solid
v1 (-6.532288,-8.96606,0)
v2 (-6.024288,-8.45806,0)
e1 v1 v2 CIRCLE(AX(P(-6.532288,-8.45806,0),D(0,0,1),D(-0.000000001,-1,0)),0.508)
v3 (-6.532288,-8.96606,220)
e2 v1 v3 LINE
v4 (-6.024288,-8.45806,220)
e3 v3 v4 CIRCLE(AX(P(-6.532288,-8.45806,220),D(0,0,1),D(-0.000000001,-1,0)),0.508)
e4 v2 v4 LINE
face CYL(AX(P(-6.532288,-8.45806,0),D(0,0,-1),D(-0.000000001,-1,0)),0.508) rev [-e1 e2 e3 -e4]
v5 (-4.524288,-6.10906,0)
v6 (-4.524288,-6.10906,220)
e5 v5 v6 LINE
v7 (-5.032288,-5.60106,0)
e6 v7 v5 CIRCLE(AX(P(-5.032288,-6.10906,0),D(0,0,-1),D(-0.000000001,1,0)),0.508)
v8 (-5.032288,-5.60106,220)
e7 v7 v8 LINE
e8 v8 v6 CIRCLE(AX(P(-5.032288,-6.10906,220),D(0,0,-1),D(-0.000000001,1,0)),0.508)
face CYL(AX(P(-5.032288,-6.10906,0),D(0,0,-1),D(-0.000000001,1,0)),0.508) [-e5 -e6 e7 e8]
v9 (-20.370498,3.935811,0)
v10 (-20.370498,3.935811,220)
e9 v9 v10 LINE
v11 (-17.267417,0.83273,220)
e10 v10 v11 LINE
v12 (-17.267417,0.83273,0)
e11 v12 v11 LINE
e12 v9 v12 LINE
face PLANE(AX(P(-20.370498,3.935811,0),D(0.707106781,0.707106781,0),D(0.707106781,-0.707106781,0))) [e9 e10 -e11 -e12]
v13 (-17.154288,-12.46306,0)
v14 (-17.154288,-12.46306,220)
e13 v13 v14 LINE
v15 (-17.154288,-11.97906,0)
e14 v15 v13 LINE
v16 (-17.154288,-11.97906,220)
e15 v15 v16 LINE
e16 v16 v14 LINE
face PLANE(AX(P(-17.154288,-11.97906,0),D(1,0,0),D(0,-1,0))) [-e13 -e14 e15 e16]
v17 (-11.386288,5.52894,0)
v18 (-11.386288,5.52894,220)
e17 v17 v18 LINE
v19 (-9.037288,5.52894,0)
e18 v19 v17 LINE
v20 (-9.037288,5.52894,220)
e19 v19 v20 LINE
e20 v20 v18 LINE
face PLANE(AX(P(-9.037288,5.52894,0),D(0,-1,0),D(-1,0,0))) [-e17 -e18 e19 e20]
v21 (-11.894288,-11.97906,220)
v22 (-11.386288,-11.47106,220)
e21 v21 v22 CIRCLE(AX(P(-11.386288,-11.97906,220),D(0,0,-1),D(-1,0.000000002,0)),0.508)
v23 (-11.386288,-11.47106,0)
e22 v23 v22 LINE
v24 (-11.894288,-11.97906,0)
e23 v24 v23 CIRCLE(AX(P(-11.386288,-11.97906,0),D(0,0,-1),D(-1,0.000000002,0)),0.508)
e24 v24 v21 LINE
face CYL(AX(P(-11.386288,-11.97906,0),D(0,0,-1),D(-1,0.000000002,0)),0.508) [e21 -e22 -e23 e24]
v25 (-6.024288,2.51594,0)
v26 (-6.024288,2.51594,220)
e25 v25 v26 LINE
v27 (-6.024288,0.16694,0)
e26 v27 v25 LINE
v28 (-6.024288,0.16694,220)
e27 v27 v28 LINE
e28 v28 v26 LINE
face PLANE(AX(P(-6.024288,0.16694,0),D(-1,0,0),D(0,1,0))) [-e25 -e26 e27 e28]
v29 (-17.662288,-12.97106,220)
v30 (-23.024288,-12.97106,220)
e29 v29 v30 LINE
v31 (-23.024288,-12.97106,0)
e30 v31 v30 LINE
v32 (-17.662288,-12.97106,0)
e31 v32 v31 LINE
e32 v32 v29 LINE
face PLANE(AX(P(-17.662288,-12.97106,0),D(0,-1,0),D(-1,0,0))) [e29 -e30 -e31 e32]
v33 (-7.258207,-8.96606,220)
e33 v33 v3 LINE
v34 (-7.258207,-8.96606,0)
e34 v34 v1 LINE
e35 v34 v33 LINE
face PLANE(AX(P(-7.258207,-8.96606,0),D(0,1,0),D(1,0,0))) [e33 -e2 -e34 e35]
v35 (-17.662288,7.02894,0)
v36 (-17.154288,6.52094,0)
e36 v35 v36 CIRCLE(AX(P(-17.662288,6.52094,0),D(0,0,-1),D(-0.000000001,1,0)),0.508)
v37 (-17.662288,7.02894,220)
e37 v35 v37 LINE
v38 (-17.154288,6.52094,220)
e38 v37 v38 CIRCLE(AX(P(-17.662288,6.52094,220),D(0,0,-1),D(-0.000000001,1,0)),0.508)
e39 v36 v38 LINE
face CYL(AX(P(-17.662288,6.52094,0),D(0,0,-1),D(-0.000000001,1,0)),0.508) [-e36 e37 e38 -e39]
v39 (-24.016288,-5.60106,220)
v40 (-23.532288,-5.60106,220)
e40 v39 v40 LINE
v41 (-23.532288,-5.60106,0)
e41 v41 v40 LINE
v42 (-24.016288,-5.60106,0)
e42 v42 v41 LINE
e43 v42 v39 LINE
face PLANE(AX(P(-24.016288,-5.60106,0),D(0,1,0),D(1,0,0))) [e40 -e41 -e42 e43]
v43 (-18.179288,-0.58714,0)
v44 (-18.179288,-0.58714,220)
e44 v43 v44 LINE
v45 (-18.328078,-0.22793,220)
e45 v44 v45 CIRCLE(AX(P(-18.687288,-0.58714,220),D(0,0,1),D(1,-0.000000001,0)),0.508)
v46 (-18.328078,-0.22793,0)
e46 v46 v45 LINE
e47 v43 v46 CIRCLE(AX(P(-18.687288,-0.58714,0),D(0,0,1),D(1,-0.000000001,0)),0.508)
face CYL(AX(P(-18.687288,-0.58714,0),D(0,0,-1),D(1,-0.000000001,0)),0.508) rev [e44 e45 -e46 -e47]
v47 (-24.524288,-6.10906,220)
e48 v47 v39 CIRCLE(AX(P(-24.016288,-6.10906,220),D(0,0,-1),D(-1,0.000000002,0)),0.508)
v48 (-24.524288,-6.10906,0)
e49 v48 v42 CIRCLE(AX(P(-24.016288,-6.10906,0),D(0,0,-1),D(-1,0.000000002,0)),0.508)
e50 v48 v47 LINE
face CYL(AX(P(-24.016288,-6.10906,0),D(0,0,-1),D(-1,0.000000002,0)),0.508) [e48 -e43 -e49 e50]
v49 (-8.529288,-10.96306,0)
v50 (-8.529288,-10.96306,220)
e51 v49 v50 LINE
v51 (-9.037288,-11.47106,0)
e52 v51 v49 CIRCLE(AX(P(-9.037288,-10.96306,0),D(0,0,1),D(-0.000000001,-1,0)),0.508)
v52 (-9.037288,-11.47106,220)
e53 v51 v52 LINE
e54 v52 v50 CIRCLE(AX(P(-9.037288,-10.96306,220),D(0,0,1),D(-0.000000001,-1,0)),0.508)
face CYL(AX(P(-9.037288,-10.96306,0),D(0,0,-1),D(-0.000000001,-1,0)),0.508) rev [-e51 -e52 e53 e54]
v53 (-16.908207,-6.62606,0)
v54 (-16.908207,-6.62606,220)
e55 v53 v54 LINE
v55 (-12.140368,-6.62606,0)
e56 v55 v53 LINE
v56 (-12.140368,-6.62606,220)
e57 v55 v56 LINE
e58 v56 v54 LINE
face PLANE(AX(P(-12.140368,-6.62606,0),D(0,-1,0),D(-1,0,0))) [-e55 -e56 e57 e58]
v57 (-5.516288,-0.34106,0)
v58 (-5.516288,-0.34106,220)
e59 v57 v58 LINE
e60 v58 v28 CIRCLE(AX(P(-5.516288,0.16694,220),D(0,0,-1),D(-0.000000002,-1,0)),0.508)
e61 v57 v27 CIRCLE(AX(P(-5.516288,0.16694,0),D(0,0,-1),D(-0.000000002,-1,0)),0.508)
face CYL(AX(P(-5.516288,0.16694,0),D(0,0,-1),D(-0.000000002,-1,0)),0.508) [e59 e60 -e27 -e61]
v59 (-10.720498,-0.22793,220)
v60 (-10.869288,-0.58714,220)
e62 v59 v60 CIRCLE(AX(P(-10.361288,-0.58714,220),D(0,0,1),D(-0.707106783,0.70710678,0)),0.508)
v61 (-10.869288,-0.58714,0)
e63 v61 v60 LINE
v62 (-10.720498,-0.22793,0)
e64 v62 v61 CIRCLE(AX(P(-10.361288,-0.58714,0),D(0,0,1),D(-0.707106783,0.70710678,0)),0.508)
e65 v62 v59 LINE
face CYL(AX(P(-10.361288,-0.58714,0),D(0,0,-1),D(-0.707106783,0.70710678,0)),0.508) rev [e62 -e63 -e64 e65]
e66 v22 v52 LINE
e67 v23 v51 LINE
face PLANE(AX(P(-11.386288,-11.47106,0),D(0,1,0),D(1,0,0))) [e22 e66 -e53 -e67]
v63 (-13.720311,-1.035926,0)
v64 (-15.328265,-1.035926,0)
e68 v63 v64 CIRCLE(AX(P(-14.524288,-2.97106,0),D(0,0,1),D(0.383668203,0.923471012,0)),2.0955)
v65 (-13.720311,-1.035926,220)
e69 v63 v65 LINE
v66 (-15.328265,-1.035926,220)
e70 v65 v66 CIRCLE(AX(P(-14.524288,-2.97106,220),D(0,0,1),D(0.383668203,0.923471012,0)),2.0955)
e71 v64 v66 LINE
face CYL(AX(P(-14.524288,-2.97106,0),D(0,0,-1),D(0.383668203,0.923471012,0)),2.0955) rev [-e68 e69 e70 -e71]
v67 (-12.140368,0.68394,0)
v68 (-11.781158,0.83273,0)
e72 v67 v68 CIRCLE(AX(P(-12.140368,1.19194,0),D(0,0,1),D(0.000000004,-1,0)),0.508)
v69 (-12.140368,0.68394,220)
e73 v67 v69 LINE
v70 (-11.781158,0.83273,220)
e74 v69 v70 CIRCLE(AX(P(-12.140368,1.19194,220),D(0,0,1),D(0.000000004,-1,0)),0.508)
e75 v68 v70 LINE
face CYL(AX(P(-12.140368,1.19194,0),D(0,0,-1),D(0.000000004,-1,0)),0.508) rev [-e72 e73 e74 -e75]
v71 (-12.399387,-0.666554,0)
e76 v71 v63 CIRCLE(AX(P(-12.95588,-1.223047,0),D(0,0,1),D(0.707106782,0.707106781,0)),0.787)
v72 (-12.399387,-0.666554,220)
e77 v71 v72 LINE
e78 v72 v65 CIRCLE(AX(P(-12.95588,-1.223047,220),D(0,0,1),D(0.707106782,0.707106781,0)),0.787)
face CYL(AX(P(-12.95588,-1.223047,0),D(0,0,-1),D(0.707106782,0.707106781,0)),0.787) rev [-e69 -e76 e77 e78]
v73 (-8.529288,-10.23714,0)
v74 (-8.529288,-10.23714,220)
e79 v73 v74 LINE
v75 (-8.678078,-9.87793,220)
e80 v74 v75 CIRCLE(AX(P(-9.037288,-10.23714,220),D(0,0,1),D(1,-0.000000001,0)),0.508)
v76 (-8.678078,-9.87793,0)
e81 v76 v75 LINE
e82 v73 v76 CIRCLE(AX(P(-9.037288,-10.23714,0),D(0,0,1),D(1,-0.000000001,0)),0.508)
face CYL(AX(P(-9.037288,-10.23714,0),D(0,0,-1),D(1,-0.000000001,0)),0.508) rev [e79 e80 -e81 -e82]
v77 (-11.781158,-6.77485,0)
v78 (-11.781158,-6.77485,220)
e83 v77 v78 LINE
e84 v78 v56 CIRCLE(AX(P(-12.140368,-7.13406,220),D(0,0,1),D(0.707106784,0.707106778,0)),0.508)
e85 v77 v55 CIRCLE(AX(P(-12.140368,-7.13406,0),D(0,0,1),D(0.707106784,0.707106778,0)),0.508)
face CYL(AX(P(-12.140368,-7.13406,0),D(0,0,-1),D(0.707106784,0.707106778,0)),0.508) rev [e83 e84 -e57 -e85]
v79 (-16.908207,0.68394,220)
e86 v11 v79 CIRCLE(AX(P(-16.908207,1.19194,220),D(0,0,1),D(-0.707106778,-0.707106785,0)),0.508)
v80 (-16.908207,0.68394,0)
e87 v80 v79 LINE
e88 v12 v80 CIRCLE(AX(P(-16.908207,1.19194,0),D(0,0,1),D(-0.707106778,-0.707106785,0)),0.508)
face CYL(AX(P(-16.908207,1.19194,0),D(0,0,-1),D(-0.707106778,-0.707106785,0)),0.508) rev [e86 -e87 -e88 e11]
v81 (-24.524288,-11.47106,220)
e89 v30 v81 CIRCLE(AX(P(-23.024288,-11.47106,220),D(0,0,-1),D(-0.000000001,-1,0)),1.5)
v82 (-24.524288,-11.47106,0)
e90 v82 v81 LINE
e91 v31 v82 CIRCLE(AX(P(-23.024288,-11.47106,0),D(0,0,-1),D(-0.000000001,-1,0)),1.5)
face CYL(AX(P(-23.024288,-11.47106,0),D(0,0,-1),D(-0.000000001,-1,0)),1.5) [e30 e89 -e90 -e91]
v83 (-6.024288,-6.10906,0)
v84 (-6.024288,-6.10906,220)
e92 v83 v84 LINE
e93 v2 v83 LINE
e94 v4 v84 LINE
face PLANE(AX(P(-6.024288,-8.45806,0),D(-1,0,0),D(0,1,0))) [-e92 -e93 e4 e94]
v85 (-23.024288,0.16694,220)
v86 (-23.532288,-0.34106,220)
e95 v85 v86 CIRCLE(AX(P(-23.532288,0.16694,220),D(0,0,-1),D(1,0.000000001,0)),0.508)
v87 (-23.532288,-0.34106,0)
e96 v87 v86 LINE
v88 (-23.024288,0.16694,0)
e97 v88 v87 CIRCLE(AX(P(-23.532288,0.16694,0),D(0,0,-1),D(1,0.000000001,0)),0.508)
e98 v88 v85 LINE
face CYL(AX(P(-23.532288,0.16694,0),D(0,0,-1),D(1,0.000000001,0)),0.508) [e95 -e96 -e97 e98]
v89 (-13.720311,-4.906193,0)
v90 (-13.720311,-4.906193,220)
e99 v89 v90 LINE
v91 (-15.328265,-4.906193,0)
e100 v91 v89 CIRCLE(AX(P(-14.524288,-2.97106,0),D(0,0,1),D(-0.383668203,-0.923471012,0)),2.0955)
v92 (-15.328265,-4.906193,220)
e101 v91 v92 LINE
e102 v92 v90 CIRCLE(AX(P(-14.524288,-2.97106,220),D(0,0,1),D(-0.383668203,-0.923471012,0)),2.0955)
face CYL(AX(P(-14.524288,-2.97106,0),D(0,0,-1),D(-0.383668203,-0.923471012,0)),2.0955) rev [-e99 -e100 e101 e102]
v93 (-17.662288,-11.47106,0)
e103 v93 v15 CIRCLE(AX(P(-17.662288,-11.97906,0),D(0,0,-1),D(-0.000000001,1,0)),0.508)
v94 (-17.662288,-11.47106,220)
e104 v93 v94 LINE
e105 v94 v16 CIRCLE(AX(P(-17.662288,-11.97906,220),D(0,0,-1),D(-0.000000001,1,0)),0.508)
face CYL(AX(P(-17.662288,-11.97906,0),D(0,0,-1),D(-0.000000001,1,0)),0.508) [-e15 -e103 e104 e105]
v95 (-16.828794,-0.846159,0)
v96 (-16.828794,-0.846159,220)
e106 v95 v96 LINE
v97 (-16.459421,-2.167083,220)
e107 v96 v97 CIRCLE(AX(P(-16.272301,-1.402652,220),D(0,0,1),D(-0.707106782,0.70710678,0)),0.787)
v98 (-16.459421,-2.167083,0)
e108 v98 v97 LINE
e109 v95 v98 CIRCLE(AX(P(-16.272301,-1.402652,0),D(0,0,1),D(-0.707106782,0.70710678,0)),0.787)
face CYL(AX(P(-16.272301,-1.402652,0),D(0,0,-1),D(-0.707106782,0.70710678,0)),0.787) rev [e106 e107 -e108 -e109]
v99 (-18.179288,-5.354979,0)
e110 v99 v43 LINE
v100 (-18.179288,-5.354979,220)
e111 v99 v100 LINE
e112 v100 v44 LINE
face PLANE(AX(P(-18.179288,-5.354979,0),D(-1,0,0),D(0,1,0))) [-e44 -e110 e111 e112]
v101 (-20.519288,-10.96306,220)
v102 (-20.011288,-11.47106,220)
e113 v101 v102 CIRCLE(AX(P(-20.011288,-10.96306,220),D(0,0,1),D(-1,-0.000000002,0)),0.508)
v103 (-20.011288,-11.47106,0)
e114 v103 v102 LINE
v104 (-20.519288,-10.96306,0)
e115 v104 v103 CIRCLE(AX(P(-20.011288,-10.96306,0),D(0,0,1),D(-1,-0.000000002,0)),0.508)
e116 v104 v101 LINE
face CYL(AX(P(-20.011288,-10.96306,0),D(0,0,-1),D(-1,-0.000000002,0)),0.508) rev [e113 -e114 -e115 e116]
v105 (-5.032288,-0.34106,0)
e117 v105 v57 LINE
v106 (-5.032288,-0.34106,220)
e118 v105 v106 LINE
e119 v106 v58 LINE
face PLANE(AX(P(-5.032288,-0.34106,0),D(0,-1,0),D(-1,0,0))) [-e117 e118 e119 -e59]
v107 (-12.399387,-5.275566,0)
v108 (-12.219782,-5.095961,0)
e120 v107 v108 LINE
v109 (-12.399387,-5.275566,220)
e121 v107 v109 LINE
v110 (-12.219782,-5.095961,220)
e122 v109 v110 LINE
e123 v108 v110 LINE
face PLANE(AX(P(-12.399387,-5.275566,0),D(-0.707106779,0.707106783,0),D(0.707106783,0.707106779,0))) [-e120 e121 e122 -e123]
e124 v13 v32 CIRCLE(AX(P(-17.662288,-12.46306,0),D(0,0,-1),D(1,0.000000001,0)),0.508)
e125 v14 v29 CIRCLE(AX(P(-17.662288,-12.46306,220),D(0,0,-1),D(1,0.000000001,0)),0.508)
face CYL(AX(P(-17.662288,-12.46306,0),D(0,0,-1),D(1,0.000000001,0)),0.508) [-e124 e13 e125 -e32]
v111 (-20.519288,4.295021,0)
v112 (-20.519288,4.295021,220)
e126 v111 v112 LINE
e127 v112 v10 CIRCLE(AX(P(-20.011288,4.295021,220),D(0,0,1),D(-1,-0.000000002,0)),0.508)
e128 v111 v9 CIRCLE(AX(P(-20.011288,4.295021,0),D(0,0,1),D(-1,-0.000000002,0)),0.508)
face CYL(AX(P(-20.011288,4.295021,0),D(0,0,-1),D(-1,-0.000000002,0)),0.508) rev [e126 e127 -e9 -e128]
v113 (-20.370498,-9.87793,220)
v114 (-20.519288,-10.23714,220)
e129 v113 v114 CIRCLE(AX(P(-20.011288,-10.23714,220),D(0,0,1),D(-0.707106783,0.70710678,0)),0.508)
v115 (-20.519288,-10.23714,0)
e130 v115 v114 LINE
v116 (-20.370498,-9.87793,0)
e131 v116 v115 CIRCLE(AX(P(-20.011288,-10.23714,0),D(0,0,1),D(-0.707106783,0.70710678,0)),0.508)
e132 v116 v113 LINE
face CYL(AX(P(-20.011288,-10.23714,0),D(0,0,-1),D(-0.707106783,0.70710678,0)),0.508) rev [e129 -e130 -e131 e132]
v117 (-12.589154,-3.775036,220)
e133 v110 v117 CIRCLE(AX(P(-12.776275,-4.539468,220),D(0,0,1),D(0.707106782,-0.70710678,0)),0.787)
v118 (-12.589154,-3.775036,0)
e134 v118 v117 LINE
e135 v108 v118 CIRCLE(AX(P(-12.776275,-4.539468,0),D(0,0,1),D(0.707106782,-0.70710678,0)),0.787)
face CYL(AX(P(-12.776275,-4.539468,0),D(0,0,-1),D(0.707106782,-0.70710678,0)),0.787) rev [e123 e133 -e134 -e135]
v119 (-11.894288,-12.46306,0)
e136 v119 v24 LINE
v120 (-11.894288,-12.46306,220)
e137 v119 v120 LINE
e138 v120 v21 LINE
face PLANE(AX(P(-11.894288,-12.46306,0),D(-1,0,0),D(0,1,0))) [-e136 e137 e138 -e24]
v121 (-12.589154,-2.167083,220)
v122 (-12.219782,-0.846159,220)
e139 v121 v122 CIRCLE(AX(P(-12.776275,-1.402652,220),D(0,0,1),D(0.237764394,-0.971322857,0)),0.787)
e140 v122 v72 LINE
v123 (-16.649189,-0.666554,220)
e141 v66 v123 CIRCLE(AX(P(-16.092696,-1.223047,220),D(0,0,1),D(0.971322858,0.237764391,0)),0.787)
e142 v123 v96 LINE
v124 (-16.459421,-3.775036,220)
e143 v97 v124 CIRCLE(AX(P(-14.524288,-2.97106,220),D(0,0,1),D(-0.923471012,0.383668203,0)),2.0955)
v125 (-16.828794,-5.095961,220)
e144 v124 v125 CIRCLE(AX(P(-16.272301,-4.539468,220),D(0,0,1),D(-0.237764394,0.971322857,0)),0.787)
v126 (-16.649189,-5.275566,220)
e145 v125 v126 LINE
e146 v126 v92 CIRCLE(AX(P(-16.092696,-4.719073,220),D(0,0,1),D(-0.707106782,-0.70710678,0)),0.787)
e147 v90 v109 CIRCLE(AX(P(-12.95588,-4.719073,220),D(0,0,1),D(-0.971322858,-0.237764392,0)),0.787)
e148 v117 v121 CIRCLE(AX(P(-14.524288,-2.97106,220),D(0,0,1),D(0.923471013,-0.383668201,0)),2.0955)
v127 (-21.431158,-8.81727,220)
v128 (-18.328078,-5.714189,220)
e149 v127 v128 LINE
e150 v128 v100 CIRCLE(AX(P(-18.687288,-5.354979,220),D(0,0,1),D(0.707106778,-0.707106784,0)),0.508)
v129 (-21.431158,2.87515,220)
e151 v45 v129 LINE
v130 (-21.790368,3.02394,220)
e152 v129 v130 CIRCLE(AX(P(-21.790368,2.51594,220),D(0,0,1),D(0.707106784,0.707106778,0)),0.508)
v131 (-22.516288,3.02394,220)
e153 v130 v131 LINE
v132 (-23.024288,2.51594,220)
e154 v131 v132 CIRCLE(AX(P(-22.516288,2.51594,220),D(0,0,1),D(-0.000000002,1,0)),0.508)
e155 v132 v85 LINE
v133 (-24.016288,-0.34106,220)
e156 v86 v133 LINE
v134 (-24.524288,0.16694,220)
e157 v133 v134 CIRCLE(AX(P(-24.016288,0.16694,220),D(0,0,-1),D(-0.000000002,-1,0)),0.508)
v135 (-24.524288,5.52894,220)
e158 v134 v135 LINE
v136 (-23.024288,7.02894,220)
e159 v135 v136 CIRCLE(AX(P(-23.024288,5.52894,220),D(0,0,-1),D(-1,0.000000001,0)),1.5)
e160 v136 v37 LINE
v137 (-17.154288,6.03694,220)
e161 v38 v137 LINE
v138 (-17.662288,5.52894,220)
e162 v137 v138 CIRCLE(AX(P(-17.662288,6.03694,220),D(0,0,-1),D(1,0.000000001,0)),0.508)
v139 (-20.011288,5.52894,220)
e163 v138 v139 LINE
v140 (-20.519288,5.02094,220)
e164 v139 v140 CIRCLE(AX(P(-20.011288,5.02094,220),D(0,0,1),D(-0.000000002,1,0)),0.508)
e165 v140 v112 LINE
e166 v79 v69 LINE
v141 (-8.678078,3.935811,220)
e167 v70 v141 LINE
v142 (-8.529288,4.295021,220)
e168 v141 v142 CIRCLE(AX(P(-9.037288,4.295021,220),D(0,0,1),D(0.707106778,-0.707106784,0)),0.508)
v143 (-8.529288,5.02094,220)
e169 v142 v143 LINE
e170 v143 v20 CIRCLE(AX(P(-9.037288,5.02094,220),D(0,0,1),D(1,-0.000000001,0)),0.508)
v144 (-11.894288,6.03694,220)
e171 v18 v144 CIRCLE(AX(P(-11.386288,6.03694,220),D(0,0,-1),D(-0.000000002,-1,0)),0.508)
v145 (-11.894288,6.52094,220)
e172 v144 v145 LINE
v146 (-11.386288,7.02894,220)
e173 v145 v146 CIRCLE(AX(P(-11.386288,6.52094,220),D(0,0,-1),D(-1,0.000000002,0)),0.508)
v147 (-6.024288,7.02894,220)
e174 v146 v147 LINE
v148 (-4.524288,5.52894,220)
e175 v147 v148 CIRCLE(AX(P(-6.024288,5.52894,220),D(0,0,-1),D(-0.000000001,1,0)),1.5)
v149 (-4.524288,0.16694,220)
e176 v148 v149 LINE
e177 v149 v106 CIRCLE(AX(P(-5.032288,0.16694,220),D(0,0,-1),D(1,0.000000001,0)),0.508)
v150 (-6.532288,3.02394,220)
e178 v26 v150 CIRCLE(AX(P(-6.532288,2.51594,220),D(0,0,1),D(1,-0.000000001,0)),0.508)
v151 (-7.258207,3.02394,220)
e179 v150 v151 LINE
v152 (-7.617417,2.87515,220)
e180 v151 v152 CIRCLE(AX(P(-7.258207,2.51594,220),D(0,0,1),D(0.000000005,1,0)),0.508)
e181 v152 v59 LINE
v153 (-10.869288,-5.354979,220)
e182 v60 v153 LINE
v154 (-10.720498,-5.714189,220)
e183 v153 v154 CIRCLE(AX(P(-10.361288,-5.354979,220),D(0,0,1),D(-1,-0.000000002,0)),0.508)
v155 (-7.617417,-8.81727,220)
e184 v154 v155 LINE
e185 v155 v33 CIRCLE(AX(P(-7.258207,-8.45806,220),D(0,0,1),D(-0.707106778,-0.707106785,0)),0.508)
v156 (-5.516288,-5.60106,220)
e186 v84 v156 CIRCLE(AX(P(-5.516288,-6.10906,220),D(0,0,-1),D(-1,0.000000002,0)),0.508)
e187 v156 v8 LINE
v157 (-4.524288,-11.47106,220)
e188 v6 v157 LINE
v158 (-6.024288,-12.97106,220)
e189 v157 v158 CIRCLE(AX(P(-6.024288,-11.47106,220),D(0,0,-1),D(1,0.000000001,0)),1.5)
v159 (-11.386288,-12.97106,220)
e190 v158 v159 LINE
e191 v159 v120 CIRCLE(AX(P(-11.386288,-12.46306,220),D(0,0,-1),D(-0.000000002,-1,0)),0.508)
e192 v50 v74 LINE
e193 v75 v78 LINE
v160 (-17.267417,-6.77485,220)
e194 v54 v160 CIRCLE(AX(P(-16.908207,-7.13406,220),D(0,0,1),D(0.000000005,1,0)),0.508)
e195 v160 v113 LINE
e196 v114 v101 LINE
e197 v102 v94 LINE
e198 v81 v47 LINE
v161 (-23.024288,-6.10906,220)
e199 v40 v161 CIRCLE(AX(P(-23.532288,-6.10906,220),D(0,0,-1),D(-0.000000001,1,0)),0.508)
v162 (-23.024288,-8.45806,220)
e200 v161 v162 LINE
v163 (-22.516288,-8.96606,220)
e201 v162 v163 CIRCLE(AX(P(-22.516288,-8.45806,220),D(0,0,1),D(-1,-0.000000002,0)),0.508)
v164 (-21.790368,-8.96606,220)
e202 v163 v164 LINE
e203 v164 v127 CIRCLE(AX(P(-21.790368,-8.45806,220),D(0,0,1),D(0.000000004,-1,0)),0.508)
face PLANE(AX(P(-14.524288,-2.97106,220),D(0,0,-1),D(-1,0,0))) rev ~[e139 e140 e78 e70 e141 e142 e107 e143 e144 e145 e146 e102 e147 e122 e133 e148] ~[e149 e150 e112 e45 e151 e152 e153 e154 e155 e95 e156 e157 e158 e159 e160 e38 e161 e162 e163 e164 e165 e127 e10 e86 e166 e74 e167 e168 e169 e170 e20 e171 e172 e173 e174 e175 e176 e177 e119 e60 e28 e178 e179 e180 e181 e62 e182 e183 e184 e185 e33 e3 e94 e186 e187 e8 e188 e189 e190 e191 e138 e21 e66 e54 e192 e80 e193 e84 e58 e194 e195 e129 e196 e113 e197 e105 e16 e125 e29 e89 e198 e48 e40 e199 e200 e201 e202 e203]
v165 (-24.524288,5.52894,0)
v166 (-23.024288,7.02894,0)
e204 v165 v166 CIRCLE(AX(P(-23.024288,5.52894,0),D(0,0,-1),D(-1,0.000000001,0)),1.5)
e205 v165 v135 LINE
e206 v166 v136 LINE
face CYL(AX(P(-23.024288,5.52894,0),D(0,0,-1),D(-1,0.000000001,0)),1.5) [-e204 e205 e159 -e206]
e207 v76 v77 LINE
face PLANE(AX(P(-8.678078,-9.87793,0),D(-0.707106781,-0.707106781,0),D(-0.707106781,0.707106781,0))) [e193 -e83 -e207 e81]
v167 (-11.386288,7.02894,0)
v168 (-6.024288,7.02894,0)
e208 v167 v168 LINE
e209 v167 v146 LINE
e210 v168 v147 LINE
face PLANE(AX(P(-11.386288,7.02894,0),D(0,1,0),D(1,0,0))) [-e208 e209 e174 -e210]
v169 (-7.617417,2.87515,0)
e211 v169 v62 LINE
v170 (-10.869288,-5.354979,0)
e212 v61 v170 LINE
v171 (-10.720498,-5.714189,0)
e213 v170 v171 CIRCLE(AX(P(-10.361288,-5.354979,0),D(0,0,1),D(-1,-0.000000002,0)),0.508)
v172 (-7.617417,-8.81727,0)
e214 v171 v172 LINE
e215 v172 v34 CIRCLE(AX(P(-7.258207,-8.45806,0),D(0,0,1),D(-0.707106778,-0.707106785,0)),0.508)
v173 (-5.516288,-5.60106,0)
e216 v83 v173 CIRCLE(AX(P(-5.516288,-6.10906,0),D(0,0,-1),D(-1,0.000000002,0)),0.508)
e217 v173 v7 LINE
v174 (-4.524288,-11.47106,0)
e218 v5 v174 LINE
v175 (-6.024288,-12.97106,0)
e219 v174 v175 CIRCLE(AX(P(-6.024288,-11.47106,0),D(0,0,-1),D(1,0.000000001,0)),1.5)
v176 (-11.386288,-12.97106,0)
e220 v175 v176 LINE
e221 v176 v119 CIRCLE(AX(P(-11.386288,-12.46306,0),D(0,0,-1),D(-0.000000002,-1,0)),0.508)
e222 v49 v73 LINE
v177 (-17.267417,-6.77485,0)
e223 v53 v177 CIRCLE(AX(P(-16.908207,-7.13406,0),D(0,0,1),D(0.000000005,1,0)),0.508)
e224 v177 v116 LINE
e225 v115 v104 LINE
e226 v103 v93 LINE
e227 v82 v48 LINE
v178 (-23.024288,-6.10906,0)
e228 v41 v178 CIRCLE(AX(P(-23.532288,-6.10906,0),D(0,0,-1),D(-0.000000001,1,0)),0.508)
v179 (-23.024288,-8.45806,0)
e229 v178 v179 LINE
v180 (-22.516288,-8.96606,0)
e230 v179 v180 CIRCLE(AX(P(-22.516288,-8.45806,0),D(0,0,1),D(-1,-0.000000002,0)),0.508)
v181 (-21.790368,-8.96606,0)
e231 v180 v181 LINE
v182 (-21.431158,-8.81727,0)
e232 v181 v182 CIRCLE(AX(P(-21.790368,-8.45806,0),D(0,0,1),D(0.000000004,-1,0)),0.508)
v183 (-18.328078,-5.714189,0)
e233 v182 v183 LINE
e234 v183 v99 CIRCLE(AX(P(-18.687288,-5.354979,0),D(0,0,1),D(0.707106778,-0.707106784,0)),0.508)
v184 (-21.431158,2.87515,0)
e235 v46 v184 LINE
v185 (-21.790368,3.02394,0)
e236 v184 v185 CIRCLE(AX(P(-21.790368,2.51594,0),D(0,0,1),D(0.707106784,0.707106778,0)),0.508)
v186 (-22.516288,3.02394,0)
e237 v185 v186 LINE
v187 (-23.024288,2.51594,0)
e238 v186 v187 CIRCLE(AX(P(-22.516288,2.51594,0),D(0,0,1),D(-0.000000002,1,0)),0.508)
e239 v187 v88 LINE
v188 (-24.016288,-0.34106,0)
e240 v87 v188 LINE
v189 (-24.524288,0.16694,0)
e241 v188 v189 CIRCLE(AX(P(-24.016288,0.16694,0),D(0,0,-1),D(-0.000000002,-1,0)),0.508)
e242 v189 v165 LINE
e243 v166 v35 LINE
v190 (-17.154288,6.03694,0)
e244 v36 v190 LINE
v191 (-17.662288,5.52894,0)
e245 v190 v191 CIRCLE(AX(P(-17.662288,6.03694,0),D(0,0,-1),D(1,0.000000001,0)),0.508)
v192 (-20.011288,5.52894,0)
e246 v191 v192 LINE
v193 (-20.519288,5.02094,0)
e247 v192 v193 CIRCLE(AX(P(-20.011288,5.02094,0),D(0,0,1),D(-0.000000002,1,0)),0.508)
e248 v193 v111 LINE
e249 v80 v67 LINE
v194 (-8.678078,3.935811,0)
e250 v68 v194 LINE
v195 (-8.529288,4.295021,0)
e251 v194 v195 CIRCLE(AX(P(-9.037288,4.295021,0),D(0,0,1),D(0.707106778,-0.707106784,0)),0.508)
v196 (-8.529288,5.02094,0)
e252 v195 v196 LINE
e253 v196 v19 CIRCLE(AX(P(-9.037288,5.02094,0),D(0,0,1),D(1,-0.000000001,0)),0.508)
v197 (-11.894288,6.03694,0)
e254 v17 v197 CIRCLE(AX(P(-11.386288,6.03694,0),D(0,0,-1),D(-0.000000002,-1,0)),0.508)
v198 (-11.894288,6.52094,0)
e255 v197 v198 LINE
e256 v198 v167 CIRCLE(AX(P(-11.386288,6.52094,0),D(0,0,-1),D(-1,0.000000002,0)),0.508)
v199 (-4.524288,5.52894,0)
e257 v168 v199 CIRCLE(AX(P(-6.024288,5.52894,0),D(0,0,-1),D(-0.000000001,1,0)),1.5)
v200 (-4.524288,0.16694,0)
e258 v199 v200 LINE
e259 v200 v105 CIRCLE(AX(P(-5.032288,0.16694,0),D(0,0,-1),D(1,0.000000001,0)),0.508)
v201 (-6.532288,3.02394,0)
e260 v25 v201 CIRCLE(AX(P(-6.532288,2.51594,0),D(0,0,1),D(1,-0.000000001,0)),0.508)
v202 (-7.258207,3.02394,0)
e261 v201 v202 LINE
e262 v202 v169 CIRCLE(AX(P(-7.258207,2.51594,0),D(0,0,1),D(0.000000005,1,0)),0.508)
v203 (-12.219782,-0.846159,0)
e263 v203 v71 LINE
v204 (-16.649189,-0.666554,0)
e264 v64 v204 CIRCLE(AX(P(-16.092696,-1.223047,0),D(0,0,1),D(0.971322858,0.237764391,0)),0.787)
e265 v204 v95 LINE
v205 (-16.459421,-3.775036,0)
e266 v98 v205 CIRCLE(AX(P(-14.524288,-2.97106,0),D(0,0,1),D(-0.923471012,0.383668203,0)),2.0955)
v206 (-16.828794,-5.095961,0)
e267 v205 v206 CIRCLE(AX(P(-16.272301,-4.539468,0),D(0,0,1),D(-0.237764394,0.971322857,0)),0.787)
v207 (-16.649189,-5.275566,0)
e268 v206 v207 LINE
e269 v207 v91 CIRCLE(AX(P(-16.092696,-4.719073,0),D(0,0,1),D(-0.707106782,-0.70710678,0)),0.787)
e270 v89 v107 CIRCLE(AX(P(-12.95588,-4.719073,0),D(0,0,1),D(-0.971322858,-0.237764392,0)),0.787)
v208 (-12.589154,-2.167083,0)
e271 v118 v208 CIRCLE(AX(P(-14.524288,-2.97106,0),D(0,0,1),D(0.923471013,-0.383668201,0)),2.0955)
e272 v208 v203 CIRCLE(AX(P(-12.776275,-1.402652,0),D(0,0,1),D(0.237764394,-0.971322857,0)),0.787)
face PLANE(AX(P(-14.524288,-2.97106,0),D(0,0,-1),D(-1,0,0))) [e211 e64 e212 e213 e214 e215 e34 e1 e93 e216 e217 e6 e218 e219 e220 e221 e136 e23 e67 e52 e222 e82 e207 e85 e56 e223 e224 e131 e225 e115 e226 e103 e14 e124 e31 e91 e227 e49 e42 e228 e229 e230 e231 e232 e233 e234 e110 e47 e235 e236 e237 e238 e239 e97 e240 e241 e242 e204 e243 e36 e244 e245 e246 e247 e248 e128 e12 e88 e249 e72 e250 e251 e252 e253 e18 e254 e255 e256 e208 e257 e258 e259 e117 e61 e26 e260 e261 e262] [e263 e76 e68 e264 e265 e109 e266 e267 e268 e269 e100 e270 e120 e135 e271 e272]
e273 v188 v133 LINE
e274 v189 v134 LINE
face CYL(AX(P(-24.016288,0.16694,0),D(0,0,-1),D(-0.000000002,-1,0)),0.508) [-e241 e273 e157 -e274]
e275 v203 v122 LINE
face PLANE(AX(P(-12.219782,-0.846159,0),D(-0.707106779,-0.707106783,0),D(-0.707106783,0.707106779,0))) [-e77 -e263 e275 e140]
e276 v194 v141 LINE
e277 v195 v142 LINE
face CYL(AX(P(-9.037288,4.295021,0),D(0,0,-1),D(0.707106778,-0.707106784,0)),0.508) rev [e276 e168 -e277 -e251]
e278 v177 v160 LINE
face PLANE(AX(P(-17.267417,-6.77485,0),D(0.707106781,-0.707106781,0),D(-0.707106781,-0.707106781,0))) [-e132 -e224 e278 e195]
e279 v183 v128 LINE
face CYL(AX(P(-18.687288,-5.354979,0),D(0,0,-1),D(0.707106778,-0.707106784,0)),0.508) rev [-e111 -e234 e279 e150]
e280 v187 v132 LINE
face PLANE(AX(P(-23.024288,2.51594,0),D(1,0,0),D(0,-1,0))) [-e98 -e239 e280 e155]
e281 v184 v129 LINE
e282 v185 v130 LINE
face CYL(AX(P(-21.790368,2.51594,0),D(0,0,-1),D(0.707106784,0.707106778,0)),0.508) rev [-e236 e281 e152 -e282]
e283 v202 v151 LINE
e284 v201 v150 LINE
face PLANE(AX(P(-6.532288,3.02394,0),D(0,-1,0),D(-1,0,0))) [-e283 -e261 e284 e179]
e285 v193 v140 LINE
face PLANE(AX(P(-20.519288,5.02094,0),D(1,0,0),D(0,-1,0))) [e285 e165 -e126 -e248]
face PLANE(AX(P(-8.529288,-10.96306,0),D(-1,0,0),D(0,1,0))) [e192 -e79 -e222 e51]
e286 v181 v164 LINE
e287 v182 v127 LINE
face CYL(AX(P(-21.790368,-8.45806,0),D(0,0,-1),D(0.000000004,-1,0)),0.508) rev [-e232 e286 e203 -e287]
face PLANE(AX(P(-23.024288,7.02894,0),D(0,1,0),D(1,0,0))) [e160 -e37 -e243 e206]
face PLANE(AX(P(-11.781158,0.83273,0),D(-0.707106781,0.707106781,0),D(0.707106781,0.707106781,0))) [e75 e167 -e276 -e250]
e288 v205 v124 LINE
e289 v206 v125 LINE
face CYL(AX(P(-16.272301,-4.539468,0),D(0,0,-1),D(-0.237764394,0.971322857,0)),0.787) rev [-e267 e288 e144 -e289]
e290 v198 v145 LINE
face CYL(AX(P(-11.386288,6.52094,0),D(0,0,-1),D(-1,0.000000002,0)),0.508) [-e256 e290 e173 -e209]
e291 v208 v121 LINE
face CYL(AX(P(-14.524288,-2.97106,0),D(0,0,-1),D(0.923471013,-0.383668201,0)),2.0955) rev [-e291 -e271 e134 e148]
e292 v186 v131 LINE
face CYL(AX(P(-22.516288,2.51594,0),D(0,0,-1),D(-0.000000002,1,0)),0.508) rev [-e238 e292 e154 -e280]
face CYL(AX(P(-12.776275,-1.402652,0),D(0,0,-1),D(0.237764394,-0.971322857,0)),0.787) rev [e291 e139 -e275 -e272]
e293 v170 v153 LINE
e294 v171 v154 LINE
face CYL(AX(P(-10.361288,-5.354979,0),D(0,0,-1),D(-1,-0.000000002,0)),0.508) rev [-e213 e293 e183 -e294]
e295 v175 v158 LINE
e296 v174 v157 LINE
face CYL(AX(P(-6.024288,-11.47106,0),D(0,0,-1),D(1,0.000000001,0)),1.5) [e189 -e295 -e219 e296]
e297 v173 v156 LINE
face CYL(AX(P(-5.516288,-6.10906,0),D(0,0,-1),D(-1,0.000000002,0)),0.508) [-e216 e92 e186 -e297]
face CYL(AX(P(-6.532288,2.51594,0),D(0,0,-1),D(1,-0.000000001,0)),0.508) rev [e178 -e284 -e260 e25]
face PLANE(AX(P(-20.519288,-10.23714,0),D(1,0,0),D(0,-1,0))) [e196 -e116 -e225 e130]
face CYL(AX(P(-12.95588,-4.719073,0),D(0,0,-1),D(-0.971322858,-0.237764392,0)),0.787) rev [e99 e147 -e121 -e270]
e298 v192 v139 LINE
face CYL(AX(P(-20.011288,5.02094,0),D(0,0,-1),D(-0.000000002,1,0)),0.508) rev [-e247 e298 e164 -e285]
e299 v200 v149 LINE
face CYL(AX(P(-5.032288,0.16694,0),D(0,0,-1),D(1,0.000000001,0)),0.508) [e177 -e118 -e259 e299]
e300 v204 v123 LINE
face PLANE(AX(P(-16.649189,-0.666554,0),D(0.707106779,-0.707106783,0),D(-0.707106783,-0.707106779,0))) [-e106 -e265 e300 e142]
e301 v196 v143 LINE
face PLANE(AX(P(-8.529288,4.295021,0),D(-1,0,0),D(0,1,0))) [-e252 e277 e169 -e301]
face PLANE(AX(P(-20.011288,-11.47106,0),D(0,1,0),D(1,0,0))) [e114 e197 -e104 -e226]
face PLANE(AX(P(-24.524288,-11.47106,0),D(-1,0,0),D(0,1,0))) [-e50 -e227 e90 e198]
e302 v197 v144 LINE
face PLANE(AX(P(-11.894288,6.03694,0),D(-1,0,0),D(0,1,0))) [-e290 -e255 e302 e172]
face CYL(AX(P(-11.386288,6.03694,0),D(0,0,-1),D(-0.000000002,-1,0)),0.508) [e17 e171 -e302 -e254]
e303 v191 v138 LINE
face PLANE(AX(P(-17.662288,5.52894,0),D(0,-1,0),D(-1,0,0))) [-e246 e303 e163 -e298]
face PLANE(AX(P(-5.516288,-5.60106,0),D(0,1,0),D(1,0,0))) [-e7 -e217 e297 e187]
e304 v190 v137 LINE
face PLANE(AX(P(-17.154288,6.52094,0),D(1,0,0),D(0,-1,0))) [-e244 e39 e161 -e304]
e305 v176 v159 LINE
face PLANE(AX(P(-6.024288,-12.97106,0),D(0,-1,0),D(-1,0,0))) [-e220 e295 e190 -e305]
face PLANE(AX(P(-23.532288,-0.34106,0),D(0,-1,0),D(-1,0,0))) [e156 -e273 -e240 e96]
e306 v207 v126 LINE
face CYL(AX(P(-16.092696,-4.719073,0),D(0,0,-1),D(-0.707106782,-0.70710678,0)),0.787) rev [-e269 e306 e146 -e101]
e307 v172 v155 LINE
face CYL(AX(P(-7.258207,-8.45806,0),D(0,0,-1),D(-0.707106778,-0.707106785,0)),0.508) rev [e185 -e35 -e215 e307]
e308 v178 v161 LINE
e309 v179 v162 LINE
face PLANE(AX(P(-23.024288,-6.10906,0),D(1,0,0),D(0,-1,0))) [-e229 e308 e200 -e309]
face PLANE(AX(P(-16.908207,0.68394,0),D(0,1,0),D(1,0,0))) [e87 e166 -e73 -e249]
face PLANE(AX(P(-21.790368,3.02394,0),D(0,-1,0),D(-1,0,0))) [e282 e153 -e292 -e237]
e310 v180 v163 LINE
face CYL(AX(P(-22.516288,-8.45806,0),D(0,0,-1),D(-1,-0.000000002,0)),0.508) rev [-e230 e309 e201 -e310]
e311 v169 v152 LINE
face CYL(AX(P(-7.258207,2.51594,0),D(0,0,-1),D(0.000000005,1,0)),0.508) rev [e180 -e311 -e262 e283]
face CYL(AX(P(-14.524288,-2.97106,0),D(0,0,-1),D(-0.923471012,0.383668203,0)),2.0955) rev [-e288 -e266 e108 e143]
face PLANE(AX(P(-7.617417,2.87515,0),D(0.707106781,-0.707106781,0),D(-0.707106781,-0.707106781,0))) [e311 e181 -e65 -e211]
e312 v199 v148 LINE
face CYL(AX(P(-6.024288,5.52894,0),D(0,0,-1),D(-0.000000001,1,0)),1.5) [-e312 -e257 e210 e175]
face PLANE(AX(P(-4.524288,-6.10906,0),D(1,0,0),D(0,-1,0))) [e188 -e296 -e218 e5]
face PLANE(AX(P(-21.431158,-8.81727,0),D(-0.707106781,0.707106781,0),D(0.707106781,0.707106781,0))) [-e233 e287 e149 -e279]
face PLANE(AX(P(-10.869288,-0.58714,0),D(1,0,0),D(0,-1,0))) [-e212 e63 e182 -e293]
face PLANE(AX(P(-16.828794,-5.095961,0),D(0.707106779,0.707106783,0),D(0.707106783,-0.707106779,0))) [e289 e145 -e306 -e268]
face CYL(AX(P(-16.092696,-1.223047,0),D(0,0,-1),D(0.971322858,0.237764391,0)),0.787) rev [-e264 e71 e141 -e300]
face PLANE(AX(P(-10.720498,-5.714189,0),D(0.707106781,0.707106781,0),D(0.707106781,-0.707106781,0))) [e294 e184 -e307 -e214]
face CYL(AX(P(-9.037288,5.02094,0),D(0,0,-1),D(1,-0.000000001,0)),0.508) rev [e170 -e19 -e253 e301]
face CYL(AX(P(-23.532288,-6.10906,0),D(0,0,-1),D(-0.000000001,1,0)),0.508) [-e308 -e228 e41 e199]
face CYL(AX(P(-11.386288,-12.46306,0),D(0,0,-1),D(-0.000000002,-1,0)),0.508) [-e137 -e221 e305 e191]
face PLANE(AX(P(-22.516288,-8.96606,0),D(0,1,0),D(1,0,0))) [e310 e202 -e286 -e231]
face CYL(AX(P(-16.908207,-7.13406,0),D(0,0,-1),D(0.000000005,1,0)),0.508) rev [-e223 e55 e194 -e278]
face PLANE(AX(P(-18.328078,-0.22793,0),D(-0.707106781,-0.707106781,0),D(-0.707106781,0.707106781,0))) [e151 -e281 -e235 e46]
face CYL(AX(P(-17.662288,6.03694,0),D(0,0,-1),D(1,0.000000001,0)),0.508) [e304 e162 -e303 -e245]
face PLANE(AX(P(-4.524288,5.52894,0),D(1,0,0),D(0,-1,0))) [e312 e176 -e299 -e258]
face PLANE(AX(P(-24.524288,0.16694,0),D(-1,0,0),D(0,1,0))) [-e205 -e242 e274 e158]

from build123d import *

# Parameters (mm, degrees)
EXTRUDE1_DEPTH = 220


with BuildPart() as part:
    # Sketch1 → Extrude1 (new body)
    with BuildSketch(Plane.XY):
        with BuildLine():
            Line((-5.032287798, -0.341059771), (-5.516287798, -0.341059771))
            ThreePointArc((-5.516287798, -0.341059771), (-5.875498042, -0.192270016), (-6.024287798, 0.166940229))
            Line((-6.024287798, 0.166940229), (-6.024287798, 2.515940229))
            ThreePointArc((-6.024287798, 2.515940229), (-6.173077553, 2.875150474), (-6.532287798, 3.023940229))
            Line((-6.532287798, 3.023940229), (-7.258207136, 3.023940229))
            ThreePointArc((-7.258207136, 3.023940229), (-7.45261032, 2.985271032), (-7.617417381, 2.875150474))
            Line((-7.617417381, 2.875150474), (-10.720498042, -0.227930187))
            ThreePointArc((-10.720498042, -0.227930187), (-10.8306186, -0.392737249), (-10.869287798, -0.587140432))
            Line((-10.869287798, -0.587140432), (-10.869287798, -5.354979109))
            ThreePointArc((-10.869287798, -5.354979109), (-10.8306186, -5.549382293), (-10.720498042, -5.714189354))
            Line((-10.720498042, -5.714189354), (-7.617417381, -8.817270016))
            ThreePointArc((-7.617417381, -8.817270016), (-7.45261032, -8.927390573), (-7.258207136, -8.966059771))
            Line((-7.258207136, -8.966059771), (-6.532287798, -8.966059771))
            ThreePointArc((-6.532287798, -8.966059771), (-6.173077553, -8.817270016), (-6.024287798, -8.458059771))
            Line((-6.024287798, -8.458059771), (-6.024287798, -6.109059771))
            ThreePointArc((-6.024287798, -6.109059771), (-5.875498042, -5.749849526), (-5.516287798, -5.601059771))
            Line((-5.516287798, -5.601059771), (-5.032287798, -5.601059771))
            ThreePointArc((-5.032287798, -5.601059771), (-4.673077553, -5.749849526), (-4.524287798, -6.109059771))
            Line((-4.524287798, -6.109059771), (-4.524287798, -11.471059771))
            ThreePointArc((-4.524287798, -11.471059771), (-4.963627626, -12.531719943), (-6.024287798, -12.971059771))
            Line((-6.024287798, -12.971059771), (-11.386287798, -12.971059771))
            ThreePointArc((-11.386287798, -12.971059771), (-11.745498042, -12.822270016), (-11.894287798, -12.463059771))
            Line((-11.894287798, -12.463059771), (-11.894287798, -11.979059771))
            ThreePointArc((-11.894287798, -11.979059771), (-11.745498042, -11.619849526), (-11.386287798, -11.471059771))
            Line((-11.386287798, -11.471059771), (-9.037287798, -11.471059771))
            ThreePointArc((-9.037287798, -11.471059771), (-8.678077553, -11.322270016), (-8.529287798, -10.963059771))
            Line((-8.529287798, -10.963059771), (-8.529287798, -10.237140432))
            ThreePointArc((-8.529287798, -10.237140432), (-8.567956995, -10.042737249), (-8.678077553, -9.877930187))
            Line((-8.678077553, -9.877930187), (-11.781158214, -6.774849526))
            ThreePointArc((-11.781158214, -6.774849526), (-11.945965275, -6.664728968), (-12.140368459, -6.626059771))
            Line((-12.140368459, -6.626059771), (-16.908207136, -6.626059771))
            ThreePointArc((-16.908207136, -6.626059771), (-17.10261032, -6.664728968), (-17.267417381, -6.774849526))
            Line((-17.267417381, -6.774849526), (-20.370498042, -9.877930187))
            ThreePointArc((-20.370498042, -9.877930187), (-20.4806186, -10.042737249), (-20.519287798, -10.237140432))
            Line((-20.519287798, -10.237140432), (-20.519287798, -10.963059771))
            ThreePointArc((-20.519287798, -10.963059771), (-20.370498042, -11.322270016), (-20.011287798, -11.471059771))
            Line((-20.011287798, -11.471059771), (-17.662287798, -11.471059771))
            ThreePointArc((-17.662287798, -11.471059771), (-17.303077553, -11.619849526), (-17.154287798, -11.979059771))
            Line((-17.154287798, -11.979059771), (-17.154287798, -12.463059771))
            ThreePointArc((-17.154287798, -12.463059771), (-17.303077553, -12.822270016), (-17.662287798, -12.971059771))
            Line((-17.662287798, -12.971059771), (-23.024287798, -12.971059771))
            ThreePointArc((-23.024287798, -12.971059771), (-24.084947969, -12.531719943), (-24.524287798, -11.471059771))
            Line((-24.524287798, -11.471059771), (-24.524287798, -6.109059771))
            ThreePointArc((-24.524287798, -6.109059771), (-24.375498042, -5.749849526), (-24.016287798, -5.601059771))
            Line((-24.016287798, -5.601059771), (-23.532287798, -5.601059771))
            ThreePointArc((-23.532287798, -5.601059771), (-23.173077553, -5.749849526), (-23.024287798, -6.109059771))
            Line((-23.024287798, -6.109059771), (-23.024287798, -8.458059771))
            ThreePointArc((-23.024287798, -8.458059771), (-22.875498042, -8.817270016), (-22.516287798, -8.966059771))
            Line((-22.516287798, -8.966059771), (-21.790368459, -8.966059771))
            ThreePointArc((-21.790368459, -8.966059771), (-21.595965275, -8.927390573), (-21.431158214, -8.817270016))
            Line((-21.431158214, -8.817270016), (-18.328077553, -5.714189354))
            ThreePointArc((-18.328077553, -5.714189354), (-18.217956995, -5.549382293), (-18.179287798, -5.354979109))
            Line((-18.179287798, -5.354979109), (-18.179287798, -0.587140432))
            ThreePointArc((-18.179287798, -0.587140432), (-18.217956995, -0.392737249), (-18.328077553, -0.227930187))
            Line((-18.328077553, -0.227930187), (-21.431158214, 2.875150474))
            ThreePointArc((-21.431158214, 2.875150474), (-21.595965275, 2.985271032), (-21.790368459, 3.023940229))
            Line((-21.790368459, 3.023940229), (-22.516287798, 3.023940229))
            ThreePointArc((-22.516287798, 3.023940229), (-22.875498042, 2.875150474), (-23.024287798, 2.515940229))
            Line((-23.024287798, 2.515940229), (-23.024287798, 0.166940229))
            ThreePointArc((-23.024287798, 0.166940229), (-23.173077553, -0.192270016), (-23.532287798, -0.341059771))
            Line((-23.532287798, -0.341059771), (-24.016287798, -0.341059771))
            ThreePointArc((-24.016287798, -0.341059771), (-24.375498042, -0.192270016), (-24.524287798, 0.166940229))
            Line((-24.524287798, 0.166940229), (-24.524287798, 5.528940229))
            ThreePointArc((-24.524287798, 5.528940229), (-24.084947969, 6.589600401), (-23.024287798, 7.028940229))
            Line((-23.024287798, 7.028940229), (-17.662287798, 7.028940229))
            ThreePointArc((-17.662287798, 7.028940229), (-17.303077553, 6.880150474), (-17.154287798, 6.520940229))
            Line((-17.154287798, 6.520940229), (-17.154287798, 6.036940229))
            ThreePointArc((-17.154287798, 6.036940229), (-17.303077553, 5.677729984), (-17.662287798, 5.528940229))
            Line((-17.662287798, 5.528940229), (-20.011287798, 5.528940229))
            ThreePointArc((-20.011287798, 5.528940229), (-20.370498042, 5.380150474), (-20.519287798, 5.020940229))
            Line((-20.519287798, 5.020940229), (-20.519287798, 4.295020891))
            ThreePointArc((-20.519287798, 4.295020891), (-20.4806186, 4.100617707), (-20.370498042, 3.935810646))
            Line((-20.370498042, 3.935810646), (-17.267417381, 0.832729984))
            ThreePointArc((-17.267417381, 0.832729984), (-17.10261032, 0.722609427), (-16.908207136, 0.683940229))
            Line((-16.908207136, 0.683940229), (-12.140368459, 0.683940229))
            ThreePointArc((-12.140368459, 0.683940229), (-11.945965275, 0.722609427), (-11.781158214, 0.832729984))
            Line((-11.781158214, 0.832729984), (-8.678077553, 3.935810646))
            ThreePointArc((-8.678077553, 3.935810646), (-8.567956995, 4.100617707), (-8.529287798, 4.295020891))
            Line((-8.529287798, 4.295020891), (-8.529287798, 5.020940229))
            ThreePointArc((-8.529287798, 5.020940229), (-8.678077553, 5.380150474), (-9.037287798, 5.528940229))
            Line((-9.037287798, 5.528940229), (-11.386287798, 5.528940229))
            ThreePointArc((-11.386287798, 5.528940229), (-11.745498042, 5.677729984), (-11.894287798, 6.036940229))
            Line((-11.894287798, 6.036940229), (-11.894287798, 6.520940229))
            ThreePointArc((-11.894287798, 6.520940229), (-11.745498042, 6.880150474), (-11.386287798, 7.028940229))
            Line((-11.386287798, 7.028940229), (-6.024287798, 7.028940229))
            ThreePointArc((-6.024287798, 7.028940229), (-4.963627626, 6.589600401), (-4.524287798, 5.528940229))
            Line((-4.524287798, 5.528940229), (-4.524287798, 0.166940229))
            ThreePointArc((-4.524287798, 0.166940229), (-4.673077553, -0.192270016), (-5.032287798, -0.341059771))
        make_face()
        with BuildLine():
            Line((-12.399386954, -5.275565737), (-12.219781831, -5.095960615))
            ThreePointArc((-12.219781831, -5.095960615), (-12.018349781, -4.327527582), (-12.589154291, -3.775036489))
            ThreePointArc((-12.589154291, -3.775036489), (-12.428787798, -2.971059771), (-12.589154291, -2.167083053))
            ThreePointArc((-12.589154291, -2.167083053), (-12.018349781, -1.61459196), (-12.219781831, -0.846158927))
            Line((-12.219781831, -0.846158927), (-12.399386954, -0.666553805))
            ThreePointArc((-12.399386954, -0.666553805), (-13.167819987, -0.465121754), (-13.72031108, -1.035926265))
            ThreePointArc((-13.72031108, -1.035926265), (-14.524287798, -0.875559771), (-15.328264516, -1.035926265))
            ThreePointArc((-15.328264516, -1.035926265), (-15.880755608, -0.465121754), (-16.649188641, -0.666553805))
            Line((-16.649188641, -0.666553805), (-16.828793764, -0.846158927))
            ThreePointArc((-16.828793764, -0.846158927), (-17.030225814, -1.61459196), (-16.459421304, -2.167083053))
            ThreePointArc((-16.459421304, -2.167083053), (-16.619787798, -2.971059771), (-16.459421304, -3.775036489))
            ThreePointArc((-16.459421304, -3.775036489), (-17.030225814, -4.327527582), (-16.828793764, -5.095960615))
            Line((-16.828793764, -5.095960615), (-16.649188641, -5.275565737))
            ThreePointArc((-16.649188641, -5.275565737), (-15.880755608, -5.476997788), (-15.328264516, -4.906193277))
            ThreePointArc((-15.328264516, -4.906193277), (-14.524287798, -5.066559771), (-13.72031108, -4.906193277))
            ThreePointArc((-13.72031108, -4.906193277), (-13.167819987, -5.476997788), (-12.399386954, -5.275565737))
        make_face(mode=Mode.SUBTRACT)
    extrude(amount=EXTRUDE1_DEPTH)


solid = part.part
